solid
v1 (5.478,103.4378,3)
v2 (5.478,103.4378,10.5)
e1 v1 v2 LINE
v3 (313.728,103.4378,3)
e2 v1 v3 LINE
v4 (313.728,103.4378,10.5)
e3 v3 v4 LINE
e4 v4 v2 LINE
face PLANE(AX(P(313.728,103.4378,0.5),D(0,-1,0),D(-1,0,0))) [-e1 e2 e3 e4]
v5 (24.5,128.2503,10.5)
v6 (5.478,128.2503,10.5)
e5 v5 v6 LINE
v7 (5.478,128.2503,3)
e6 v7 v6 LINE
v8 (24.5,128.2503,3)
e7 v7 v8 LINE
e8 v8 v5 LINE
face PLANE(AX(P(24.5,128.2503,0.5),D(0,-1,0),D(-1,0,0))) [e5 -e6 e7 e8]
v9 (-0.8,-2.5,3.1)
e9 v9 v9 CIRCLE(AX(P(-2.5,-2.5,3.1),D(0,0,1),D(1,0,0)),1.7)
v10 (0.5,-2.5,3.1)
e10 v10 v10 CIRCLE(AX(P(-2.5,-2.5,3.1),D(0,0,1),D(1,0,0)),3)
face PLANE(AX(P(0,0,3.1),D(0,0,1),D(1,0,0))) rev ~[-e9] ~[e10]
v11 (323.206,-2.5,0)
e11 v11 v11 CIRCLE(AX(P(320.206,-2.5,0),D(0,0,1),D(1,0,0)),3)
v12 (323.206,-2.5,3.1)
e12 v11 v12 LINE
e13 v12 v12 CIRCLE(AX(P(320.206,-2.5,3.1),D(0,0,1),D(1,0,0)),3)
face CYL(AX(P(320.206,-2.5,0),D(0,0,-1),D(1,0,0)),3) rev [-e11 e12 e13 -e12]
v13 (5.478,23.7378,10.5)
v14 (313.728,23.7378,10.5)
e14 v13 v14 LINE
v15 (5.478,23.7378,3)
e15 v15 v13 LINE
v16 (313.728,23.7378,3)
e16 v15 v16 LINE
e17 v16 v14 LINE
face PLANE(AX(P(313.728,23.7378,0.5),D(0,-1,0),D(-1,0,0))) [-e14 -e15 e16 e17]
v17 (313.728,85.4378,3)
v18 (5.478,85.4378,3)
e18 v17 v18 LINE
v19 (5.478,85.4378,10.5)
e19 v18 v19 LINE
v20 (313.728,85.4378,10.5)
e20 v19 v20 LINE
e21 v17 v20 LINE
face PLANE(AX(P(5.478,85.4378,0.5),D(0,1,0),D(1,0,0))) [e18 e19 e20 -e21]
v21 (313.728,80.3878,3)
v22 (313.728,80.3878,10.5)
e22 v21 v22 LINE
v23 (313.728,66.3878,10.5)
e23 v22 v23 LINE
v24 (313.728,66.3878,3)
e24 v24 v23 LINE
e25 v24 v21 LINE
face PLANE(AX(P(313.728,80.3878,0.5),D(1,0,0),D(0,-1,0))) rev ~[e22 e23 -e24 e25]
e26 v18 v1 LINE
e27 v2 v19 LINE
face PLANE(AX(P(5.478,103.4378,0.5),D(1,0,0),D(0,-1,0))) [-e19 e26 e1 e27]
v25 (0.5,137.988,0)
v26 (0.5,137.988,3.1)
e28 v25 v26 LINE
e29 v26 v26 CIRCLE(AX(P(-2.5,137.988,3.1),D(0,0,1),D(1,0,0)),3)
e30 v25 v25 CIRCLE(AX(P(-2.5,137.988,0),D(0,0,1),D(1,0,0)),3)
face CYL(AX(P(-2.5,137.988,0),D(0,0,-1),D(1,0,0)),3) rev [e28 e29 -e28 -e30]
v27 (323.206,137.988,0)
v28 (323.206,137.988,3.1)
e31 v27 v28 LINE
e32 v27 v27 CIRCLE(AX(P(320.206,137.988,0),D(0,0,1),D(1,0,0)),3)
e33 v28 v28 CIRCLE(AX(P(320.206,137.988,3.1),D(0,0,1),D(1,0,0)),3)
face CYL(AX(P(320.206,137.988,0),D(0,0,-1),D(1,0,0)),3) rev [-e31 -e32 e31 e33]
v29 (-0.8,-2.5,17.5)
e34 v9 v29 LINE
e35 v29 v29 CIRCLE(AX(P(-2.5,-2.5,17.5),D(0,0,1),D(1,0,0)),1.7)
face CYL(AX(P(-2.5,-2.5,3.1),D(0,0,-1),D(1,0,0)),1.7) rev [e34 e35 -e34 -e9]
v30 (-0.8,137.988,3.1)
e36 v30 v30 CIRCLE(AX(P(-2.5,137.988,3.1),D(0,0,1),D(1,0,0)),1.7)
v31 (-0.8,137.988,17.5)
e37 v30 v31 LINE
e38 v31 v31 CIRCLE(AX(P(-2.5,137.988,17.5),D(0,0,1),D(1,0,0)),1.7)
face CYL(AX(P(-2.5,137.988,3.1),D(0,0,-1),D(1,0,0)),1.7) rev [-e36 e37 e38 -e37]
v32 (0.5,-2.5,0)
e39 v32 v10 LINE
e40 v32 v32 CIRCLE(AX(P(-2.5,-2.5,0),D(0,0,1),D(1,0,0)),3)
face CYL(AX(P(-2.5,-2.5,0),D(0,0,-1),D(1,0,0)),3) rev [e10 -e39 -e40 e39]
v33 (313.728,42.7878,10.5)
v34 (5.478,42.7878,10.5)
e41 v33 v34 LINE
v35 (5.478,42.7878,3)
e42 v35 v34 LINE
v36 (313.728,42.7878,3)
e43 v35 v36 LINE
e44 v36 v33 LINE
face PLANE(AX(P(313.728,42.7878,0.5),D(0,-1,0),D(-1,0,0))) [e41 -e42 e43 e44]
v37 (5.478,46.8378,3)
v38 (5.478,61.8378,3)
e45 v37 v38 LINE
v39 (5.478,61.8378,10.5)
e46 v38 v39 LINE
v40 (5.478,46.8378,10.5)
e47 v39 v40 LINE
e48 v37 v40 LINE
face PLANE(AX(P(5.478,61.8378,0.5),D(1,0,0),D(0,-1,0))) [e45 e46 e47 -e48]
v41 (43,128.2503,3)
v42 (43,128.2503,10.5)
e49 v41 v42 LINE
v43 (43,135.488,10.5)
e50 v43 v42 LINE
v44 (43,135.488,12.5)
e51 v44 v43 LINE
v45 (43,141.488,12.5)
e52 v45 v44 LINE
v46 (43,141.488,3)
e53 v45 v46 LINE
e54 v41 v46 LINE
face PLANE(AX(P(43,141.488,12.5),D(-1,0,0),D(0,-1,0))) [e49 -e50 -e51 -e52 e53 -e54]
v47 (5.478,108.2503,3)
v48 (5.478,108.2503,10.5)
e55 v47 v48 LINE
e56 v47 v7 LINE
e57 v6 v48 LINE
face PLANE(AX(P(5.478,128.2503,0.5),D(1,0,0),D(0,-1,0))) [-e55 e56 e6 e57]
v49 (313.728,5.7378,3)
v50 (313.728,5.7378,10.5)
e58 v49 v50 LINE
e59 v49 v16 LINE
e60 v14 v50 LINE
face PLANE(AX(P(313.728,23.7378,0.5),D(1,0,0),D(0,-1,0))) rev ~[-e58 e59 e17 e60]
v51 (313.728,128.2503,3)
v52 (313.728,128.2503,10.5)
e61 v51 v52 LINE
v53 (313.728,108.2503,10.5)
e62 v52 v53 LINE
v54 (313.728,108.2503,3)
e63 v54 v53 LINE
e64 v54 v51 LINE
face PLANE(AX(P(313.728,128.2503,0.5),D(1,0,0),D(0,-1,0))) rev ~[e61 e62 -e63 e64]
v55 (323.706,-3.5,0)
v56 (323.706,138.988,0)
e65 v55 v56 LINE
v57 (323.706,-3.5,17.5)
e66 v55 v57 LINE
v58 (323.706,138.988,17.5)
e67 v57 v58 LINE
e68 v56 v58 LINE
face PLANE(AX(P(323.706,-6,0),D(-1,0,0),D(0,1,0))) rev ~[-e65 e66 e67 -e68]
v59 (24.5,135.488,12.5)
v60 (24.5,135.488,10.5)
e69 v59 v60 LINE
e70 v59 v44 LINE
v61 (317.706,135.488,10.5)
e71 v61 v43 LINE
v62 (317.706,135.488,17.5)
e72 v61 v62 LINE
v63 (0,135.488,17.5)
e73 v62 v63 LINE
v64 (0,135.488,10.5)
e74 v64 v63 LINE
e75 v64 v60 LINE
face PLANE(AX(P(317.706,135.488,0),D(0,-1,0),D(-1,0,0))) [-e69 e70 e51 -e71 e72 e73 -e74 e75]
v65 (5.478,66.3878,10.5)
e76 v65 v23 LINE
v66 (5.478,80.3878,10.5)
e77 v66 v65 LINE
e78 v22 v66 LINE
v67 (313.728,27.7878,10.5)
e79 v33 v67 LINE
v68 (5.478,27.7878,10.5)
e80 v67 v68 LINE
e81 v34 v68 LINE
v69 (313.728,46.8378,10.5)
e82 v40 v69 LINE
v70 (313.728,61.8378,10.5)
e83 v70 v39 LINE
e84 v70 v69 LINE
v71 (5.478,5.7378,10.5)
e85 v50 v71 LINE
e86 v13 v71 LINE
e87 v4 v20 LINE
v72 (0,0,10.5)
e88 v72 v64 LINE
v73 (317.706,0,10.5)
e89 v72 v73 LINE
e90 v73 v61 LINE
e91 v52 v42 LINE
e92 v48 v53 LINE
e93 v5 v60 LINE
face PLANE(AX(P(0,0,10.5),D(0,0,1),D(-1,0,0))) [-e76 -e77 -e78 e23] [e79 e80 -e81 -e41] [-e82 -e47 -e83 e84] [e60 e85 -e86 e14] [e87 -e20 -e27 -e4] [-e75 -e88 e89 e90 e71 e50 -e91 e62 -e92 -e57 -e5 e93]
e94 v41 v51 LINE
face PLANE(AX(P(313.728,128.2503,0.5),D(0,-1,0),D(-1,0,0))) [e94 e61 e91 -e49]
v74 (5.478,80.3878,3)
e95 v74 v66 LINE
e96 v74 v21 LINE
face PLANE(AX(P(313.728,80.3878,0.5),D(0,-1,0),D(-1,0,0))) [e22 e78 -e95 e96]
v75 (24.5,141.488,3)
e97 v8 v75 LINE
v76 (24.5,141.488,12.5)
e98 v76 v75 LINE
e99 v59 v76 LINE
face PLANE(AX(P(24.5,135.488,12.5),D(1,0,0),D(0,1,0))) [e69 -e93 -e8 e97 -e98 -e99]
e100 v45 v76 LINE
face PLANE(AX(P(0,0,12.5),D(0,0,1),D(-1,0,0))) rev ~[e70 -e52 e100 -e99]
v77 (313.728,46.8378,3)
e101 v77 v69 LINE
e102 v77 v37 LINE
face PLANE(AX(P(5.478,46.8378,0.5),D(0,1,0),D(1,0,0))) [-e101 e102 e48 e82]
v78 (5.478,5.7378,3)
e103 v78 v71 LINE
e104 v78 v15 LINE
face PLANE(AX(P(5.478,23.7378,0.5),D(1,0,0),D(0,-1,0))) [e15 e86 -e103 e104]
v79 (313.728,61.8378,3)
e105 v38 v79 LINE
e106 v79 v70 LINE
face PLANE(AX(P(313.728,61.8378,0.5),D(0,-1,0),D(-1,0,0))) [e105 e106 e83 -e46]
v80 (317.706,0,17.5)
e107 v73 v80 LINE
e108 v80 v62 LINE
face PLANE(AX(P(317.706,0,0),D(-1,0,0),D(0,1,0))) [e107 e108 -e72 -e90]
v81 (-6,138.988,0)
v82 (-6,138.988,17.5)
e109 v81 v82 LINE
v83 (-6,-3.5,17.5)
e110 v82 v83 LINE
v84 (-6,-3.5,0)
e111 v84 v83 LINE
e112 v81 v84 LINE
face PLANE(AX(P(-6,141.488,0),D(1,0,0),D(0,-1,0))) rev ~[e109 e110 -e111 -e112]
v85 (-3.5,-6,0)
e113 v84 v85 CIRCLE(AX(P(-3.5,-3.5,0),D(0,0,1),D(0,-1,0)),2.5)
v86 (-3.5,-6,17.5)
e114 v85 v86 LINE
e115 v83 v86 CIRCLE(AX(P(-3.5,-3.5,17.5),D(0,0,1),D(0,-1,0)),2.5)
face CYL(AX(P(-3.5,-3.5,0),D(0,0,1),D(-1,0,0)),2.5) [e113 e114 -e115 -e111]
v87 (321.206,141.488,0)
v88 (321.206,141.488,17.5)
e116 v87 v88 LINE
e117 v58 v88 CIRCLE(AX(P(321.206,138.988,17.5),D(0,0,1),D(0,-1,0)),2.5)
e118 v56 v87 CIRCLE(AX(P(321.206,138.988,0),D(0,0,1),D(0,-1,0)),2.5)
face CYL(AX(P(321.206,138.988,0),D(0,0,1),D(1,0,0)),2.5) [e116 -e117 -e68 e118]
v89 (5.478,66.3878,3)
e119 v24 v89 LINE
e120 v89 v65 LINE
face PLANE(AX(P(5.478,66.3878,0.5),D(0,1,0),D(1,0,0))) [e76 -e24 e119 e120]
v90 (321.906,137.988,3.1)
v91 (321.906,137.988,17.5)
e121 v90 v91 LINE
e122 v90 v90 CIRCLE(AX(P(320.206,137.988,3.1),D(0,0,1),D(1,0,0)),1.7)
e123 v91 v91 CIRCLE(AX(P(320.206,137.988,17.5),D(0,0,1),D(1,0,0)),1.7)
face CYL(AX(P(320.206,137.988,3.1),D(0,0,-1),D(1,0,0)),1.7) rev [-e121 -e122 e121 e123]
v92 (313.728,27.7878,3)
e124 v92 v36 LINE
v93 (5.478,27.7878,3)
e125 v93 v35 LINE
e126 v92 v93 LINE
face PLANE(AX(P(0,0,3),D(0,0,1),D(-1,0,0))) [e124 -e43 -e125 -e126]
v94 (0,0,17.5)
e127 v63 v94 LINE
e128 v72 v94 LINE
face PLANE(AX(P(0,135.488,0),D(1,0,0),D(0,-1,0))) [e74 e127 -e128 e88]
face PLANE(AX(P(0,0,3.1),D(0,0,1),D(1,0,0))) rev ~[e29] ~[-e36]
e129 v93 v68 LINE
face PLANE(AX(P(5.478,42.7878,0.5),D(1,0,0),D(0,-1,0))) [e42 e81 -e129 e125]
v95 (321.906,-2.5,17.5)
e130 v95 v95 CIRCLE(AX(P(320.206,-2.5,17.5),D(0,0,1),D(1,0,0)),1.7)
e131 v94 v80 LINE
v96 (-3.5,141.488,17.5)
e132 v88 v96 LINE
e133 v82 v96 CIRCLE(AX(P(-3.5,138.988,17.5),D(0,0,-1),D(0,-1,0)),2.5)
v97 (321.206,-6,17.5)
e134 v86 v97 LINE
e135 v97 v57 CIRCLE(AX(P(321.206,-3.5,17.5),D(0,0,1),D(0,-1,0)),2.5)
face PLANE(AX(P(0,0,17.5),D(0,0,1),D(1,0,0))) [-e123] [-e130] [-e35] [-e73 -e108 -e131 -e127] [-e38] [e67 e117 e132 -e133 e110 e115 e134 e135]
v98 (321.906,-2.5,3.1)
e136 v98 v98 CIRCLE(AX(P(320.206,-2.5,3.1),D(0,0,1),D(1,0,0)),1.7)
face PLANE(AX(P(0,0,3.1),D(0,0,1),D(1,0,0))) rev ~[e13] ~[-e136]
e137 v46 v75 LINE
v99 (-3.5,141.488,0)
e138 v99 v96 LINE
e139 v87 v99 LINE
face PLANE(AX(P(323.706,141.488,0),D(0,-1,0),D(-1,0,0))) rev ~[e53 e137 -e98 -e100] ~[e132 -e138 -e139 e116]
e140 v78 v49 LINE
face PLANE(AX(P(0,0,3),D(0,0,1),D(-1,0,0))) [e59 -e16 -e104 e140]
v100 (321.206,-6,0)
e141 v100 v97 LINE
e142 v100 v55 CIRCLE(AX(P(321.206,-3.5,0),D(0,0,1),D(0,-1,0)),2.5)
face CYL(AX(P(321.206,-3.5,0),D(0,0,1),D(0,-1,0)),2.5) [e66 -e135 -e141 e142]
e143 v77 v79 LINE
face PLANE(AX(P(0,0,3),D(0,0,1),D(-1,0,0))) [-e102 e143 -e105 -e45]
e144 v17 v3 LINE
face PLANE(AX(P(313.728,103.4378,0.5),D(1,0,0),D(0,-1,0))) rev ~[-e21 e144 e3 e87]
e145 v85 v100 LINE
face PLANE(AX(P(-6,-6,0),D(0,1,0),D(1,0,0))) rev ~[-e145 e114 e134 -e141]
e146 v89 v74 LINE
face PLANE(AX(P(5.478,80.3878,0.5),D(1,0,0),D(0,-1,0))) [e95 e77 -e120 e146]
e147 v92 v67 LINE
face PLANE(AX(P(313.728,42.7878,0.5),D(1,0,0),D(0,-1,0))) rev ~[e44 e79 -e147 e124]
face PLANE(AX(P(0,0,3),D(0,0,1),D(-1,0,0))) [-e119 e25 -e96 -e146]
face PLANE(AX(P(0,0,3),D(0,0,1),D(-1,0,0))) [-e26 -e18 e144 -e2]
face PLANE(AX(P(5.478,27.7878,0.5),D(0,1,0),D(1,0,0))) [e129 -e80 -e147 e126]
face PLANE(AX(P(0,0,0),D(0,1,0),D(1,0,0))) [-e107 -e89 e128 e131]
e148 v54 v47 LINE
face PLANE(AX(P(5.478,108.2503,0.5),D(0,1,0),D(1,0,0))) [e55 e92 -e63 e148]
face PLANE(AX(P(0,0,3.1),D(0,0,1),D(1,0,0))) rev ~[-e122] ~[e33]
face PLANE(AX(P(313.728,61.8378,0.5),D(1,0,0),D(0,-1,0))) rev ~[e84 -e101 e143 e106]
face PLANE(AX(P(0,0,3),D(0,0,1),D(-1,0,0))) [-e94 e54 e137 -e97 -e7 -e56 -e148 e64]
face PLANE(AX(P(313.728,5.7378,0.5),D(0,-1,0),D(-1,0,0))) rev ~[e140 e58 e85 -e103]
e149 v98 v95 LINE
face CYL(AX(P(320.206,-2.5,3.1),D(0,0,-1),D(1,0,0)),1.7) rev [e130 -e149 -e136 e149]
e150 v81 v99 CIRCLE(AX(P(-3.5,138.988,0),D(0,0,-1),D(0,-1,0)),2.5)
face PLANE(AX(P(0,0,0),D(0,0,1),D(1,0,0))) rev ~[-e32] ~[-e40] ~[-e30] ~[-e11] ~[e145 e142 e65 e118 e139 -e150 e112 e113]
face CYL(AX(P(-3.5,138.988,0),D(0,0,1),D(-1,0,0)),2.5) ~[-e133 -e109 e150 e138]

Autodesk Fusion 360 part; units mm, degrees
sketch "Sketch1" plane through (0, 0, 0) normal (0, 0, 1) x (1, 0, 0) in component "MechKeyboard"
  line L0 (0, 0) -> (317.706, 0)
  line L1 (317.706, 0) -> (317.706, 135.488)
  line L2 (317.706, 135.488) -> (0, 135.488)
  line L3 (0, 135.488) -> (0, 0)
  line L4 (-6, -6) -> (323.706, -6)
  line L5 (323.706, -6) -> (323.706, 141.488)
  line L6 (323.706, 141.488) -> (-6, 141.488)
  line L7 (-6, 141.488) -> (-6, -6)
  circle A0 centre (320.206, 137.988) radius 1.7
  circle A1 centre (320.206, 137.988) radius 3
  line L8 (158.853, 135.488) -> (158.853, 141.488) construction
  line L9 (317.706, 67.744) -> (323.706, 67.744) construction
  circle A2 centre (320.206, -2.5) radius 3
  circle A3 centre (320.206, -2.5) radius 1.7
  circle A4 centre (-2.5, 137.988) radius 1.7
  circle A5 centre (-2.5, 137.988) radius 3
  circle A6 centre (-2.5, -2.5) radius 1.7
  circle A7 centre (-2.5, -2.5) radius 3
  dimension "d1" = 317.706
  dimension "d2" = 135.488
  dimension "d3" = 6
  dimension "d4" = 3.4
  dimension "d5" = 3.5
  dimension "d6" = 3.5
  dimension "d7" = 6
extrude "Extrude1" add sketch "Sketch1" along normal blind 14.4 from surface at 3.1 contours A1 | A2 | A5 | A7 makes body 1 at (0.4851, -2.7987, 7.9) makes body 2 at (318.8374, 0.1696, 12.7) makes body 3 at (-5.3191, 139.0141, 12.7) makes body 4 at (321.4399, 140.7225, 12.7) in component "MechKeyboard"
extrude "Extrude2" add sketch "Sketch1" along normal blind 17.5 contours L4 L5 L6 L7 bodies 1 2 3 4 in component "MechKeyboard"
extrude "Extrude3" add sketch "Sketch1" along normal blind 3 contours L0 L1 L2 L3 bodies 1 in component "MechKeyboard"
sketch "Sketch1 (2)" plane through (0, 0, 17.5) normal (0, 0, 1) x (-1, 0, 0)
  line L0 (0, 0) -> (0, -135.488)
  line L1 (0, -135.488) -> (-317.706, -135.488)
  line L2 (-317.706, -135.488) -> (-317.706, 0)
  line L3 (-317.706, 0) -> (0, 0)
  line L4 (6, -141.488) -> (6, 6)
  line L5 (6, 6) -> (-323.706, 6)
  line L6 (-323.706, 6) -> (-323.706, -141.488)
  line L7 (-323.706, -141.488) -> (6, -141.488)
  line L8 (-24.5, -141.488) -> (-43, -141.488)
  line L9 (-43, -141.488) -> (-43, -135.488)
  line L10 (-43, -135.488) -> (-24.5, -135.488)
  line L11 (-24.5, -135.488) -> (-24.5, -141.488)
  circle A0 centre (2.5, 2.5) radius 1.7
  circle A1 centre (-320.206, -137.988) radius 1.7
  circle A2 centre (-320.206, 2.5) radius 1.7
  circle A3 centre (2.5, -137.988) radius 1.7
  dimension "d15" = 18.5
  dimension "d17" = 24.5
extrude "Extrude4" cut sketch "Sketch1 (2)" against normal up to surface (9.5 mm away) from surface at -5 contours L1 L7 L8 L9 L10 L11 bodies 1 in component "MechKeyboard"
fillet "Fillet1" radius 2.5 4 edges at (-6, 141.488, 8.75) (-6, -6, 8.75) (323.706, -6, 8.75) (323.706, 141.488, 8.75) on bodies 1 in component "MechKeyboard"
sketch "Sketch2" plane through (0, 0, 3) normal (0, 0, 1) x (-1, 0, 0)
  curve L0
  curve A0
  curve A1
  curve A2
  curve A3
  curve A4
  curve A5
  curve A6
  curve A7
  curve A8
  curve A9
  curve A10
  curve A11
  curve A12
  curve A13
  curve A14
  curve A15
  curve A16
  curve A17
  curve A18
  curve A19
  curve A20
  curve A21
  curve A22
  curve A23
  curve A24
  curve A25
  curve A26
  curve A27
  curve A28
  curve A29
  curve A30
  curve A31
  curve A32
  curve A33
  curve A34
  curve A35
  curve A36
  curve A37
  curve A38
  curve A39
  curve A40
  curve A41
  curve A42
  curve A43
  curve A44
  curve A45
  curve A46
  curve A47
  curve A48
  curve A49
  curve A50
  curve A51
  curve A52
  curve A53
  curve A54
  curve A55
  curve A56
  curve A57
  curve A58
  curve A59
  curve A60
  curve A61
  curve A62
  curve A63
  curve A64
  curve A65
  curve A66
  curve A67
  curve A68
  curve A69
  curve A70
  curve A71
  curve A72
  curve A73
  curve A74
  curve A75
  curve L1
  curve L2
  curve A76
  curve A77
  curve A78
  curve L3
  curve A79
  curve L4
  curve A80
  curve A81
  curve A82
  curve L5
  curve L6
  curve L7
  curve A83
  curve L8
  curve A84
  curve A85
  curve L9
  curve L10
  curve L11
  curve L12
  curve L13
  curve A86
  curve L14
  curve L15
  curve L16
  curve L17
  curve L18
  curve L19
  curve A87
  curve A88
  curve L20
  curve L21
  curve L22
  curve A89
  curve A90
  curve L23
  curve L24
  curve L25
  curve L26
  curve L27
  curve L28
  curve L29
  curve L30
  curve L31
  curve L32
  curve L33
  curve L34
  curve L35
  curve L36
  curve L37
  curve L38
  curve L39
  curve L40
  curve L41
  curve L42
  curve L43
  curve L44
  curve L45
  curve L46
  curve L47
  curve L48
  curve L49
  curve L50
  curve L51
  curve L52
  curve L53
  curve L54
  curve L55
  curve L56
  curve L57
  curve L58
  curve A91
  curve A92
  curve A93
  curve L59
  curve A94
  curve A95
  curve A96
  curve A97
  curve A98
  curve A99
  curve A100
  curve A101
  curve A102
  curve A103
  curve A104
  curve A105
  curve A106
  curve A107
  curve A108
  curve A109
  curve A110
  curve A111
  curve A112
  curve A113
  curve L60
  curve A114
  curve A115
  curve A116
  curve A117
  curve A118
  curve A119
  curve A120
  curve A121
  curve A122
  curve A123
  curve A124
  curve A125
  curve A126
  curve A127
  curve A128
  curve A129
  curve A130
  curve A131
  curve A132
  curve A133
  curve L61
  curve A134
  curve A135
  curve A136
  curve A137
  curve A138
  curve A139
  curve A140
  curve A141
  curve A142
  curve A143
  curve A144
  curve A145
  curve A146
  curve A147
  curve L62
  curve A148
  curve A149
  curve A150
  curve A151
  curve A152
  curve L63
  curve L64
  curve L65
  curve A153
  curve A154
  curve A155
  curve L66
  curve L67
  curve L68
  curve L69 construction
  curve L70
  curve A156
  curve L71
  curve L72
  curve L73
  curve A157
  curve L74
  curve L75
  curve L76
  curve L77
  curve L78
  curve L79
  curve L80
  curve L81
  curve L82
  curve L83
  curve L84
  curve L85
  curve L86
  curve L87
  curve L88
  curve L89
  curve L90
  curve A158
  curve A159
  curve L91
  curve A160
  curve A161
  curve A162
  curve L92
  curve A163
  curve A164
  curve A165
  curve A166
  curve A167
  curve L93
  curve A168
  curve L94
  curve A169
  curve A170
  curve L95
  curve A171
  curve L96
  curve L97
  curve A172
  curve L98
  curve L99
  curve L100
  curve L101
  curve L102
  curve L103
  curve L104
  curve L105
  curve L106
  curve L107
  curve L108
  curve L109
  curve L110
  curve L111
  curve L112
  curve L113
  curve L114
  curve L115
  curve L116
  curve L117
  curve L118
  curve L119
  curve L120
  curve L121
  curve L122
  curve L123
  curve L124
  curve L125
  curve L126
  curve L127
  curve L128
  curve L129
  curve L130
  curve L131
  curve L132
  curve L133
  curve L134
  curve L135
  curve L136
  curve L137
  curve L138
  curve L139
  curve L140
  curve L141
  curve L142
  curve L143
  curve L144
  curve L145
  curve A173
  curve A174
  curve A175
  curve L146
  curve L147
  curve L148
  curve A176
  curve A177
  curve L149
  curve A178
  curve L150
  curve A179
  curve A180
  curve A181
  curve L151
  curve A182
  curve L152
  curve L153
  curve L154
  curve A183
  curve A184
  curve A185
  curve L155
  curve L156
  curve A186
  curve A187
  curve L157
  curve A188
  curve L158
  curve L159
  curve A189
  curve A190
  curve L160
  curve A191
  curve A192
  curve L161
  curve A193
  curve L162
  curve L163
  curve A194
  curve A195
  curve A196
  curve A197
  curve A198
  curve L164
  curve A199
  curve L165
  curve L166
  curve A200
  curve L167
  curve A201
  curve A202
  curve L168
  curve L169
  curve A203
  curve A204
  curve L170
  curve A205
  curve A206
  curve A207
  curve L171
  curve L172
  curve L173
  curve L174
  curve L175
  curve L176
  curve A208
  curve L177
  curve A209
  curve L178
  curve L179
  curve L180
  curve L181
  curve L182
  curve L183
  curve L184
  curve L185
  curve L186
  curve L187
  curve L188
  curve A210
  curve L189
  curve L190
  curve L191 construction
  curve L192
  curve A211
  curve A212
  curve L193
  curve L194
  curve L195
  curve L196
  curve L197
  curve L198
  curve A213
  curve A214
  curve L199
  curve L200
  curve A215
  curve A216
  curve A217
  curve A218
  curve L201
  curve L202
  curve L203
  curve L204
  curve A219
  curve L205
  curve L206 construction
  curve A220
  curve L207 construction
  curve A221
  curve A222
  curve A223
  curve L208
  curve A224
  curve A225
  curve A226
  curve L209
  curve L210
  curve A227
  curve A228
  curve A229
  curve A230
  curve A231
  curve L211
  curve A232
  curve A233
  curve A234
  curve A235
  curve L212
  curve L213
  curve L214
  curve L215
  curve L216
  curve A236
  curve A237
  curve A238
  curve L217
  curve L218 construction
  curve L219
  curve A239
  curve L220
  curve L221
  curve A240
  curve A241
  curve L222
  curve A242
  curve A243
  curve A244
  curve L223
  curve A245
  curve L224
  curve L225
  curve L226
  curve A246
  curve L227
  curve L228
  curve L229
  curve A247
  curve L230
  curve A248
  curve L231
  curve L232
  curve A249
  curve L233
  curve L234
  curve L235
  curve L236
  curve L237
  curve L238
  curve L239
  curve A250
  curve A251
  curve L240
  curve A252
  curve L241
  curve A253
  curve L242
  curve A254
  curve L243
  curve L244
  curve L245
  curve A255
  curve A256
  curve L246
  curve L247
  curve L248
  curve L249
  curve A257
  curve A258
  curve L250
  curve L251
  curve L252
  curve A259
  curve A260
  curve A261
  curve L253
  curve A262
  curve L254
  curve A263
  curve L255
  curve A264
  curve L256
  curve A265
  curve L257
  curve A266
  curve L258
  curve A267
  curve A268
  curve L259
  curve A269
  curve A270
  curve L260
  curve L261
  curve A271
  curve L262
  curve A272
  curve A273
  curve L263
  curve L264
  curve A274
  curve L265
  curve L266
  curve L267
  curve L268
  curve A275
  curve L269
  curve A276
  curve L270
  curve A277
  curve A278
  curve A279
  curve A280
  curve L271
  curve A281
  curve L272
  curve L273
  curve L274
  curve L275
  curve A282
  curve L276
  curve L277
  curve L278
  curve L279
  curve L280
  curve L281 construction
  curve A283
  curve L282
  curve A284
  curve L283
  curve L284
  curve A285
  curve L285
  curve L286
  curve A286
  curve L287
  curve A287
  curve A288
  curve L288
  curve L289
  curve A289
  curve A290
  curve A291
  curve A292
  curve L290
  curve L291
  curve L292
  curve L293
  curve A293
  curve L294
  curve L295
  curve A294
  curve L296
  curve L297
  curve L298
  curve A295
  curve L299
  curve L300
  curve A296
  curve L301
  curve L302
  curve L303
  curve L304
  curve L305
  curve A297
  curve A298
  curve L306
  curve A299
  curve A300
  curve A301
  curve A302
  curve L307
  curve A303
  curve L308
  curve A304
  curve A305
  curve L309
  curve L310
  curve L311
  curve A306
  curve A307
  curve L312
  curve L313
  curve A308
  curve L314
  curve A309
  curve A310
  curve L315
  curve L316
  curve A311
  curve L317
  curve L318
  curve A312
  curve L319
  curve L320
  curve A313
  curve L321
  curve L322
  curve A314
  curve A315
  curve L323
  curve A316
  curve A317
  curve L324
  curve L325
  curve A318
  curve L326
  curve L327
  curve L328
  curve L329
  curve A319
  curve A320
  curve A321
  curve L330
  curve A322
  curve L331
  curve L332
  curve L333
  curve L334
  curve A323
  curve A324
  curve A325
  curve A326
  curve L335
  curve A327
  curve L336
  curve A328
  curve A329
  curve L337
  curve L338
  curve L339
  curve L340
  curve L341
  curve A330
  curve A331
  curve L342
  curve L343
  curve A332
  curve L344
  curve A333
  curve A334
  curve L345
  curve L346
  curve L347
  curve A335
  curve A336
  curve L348
  curve A337
  curve A338
  curve L349
  curve L350
  curve L351
  curve A339
  curve A340
  curve L352
  curve L353
  curve A341
  curve L354
  curve A342
  curve A343
  curve A344
  curve A345
  curve A346
  curve A347
  curve A348
  curve L355
  curve A349
  curve L356
  curve L357
  curve A350
  curve L358
  curve L359
  curve L360
  curve L361
  curve A351
  curve A352
  curve L362
  curve A353
  curve A354
  curve L363
  curve A355
  curve A356
  curve A357
  curve A358
  curve L364
  curve L365
  curve A359
  dimension "d35" = 329.706
  dimension "d36" = 147.488
  dimension "d37" = 6
  dimension "d38" = 3.5
  dimension "d39" = 3.5
sketch "Sketch4" plane through (0, 0, 13) normal (0, 0, 1) x (-1, 0, 0)
  line L0 (0, -135.488) -> (-317.706, -135.488)
  line L1 (-317.706, -135.488) -> (-317.706, -128.2503)
  line L2 (-317.706, -128.2503) -> (0, -128.2503)
  line L3 (0, -128.2503) -> (0, -135.488)
  line L4 (-9.478, -124.7503) -> (-22.478, -124.7503)
  line L5 (0, -108.2503) -> (-317.706, -108.2503)
  line L6 (-317.706, -108.2503) -> (-317.706, -103.4378)
  line L7 (-317.706, -103.4378) -> (0, -103.4378)
  line L8 (0, -103.4378) -> (0, -108.2503)
  line L9 (0, 0) -> (0, -135.488)
  line L10 (-317.706, -135.488) -> (-317.706, 0)
  line L11 (-9.478, -110.7503) -> (-22.478, -110.7503)
  line L12 (-9.478, -100.9378) -> (-22.478, -100.9378)
  line L13 (0, -135.488) -> (-5.478, -135.488)
  line L14 (-5.478, -135.488) -> (-5.478, 0)
  line L15 (-5.478, 0) -> (0, 0)
  line L16 (0, 0) -> (0, -135.488)
  line L17 (-317.706, 0) -> (0, 0)
  line L18 (-8.978, -124.2503) -> (-8.978, -111.2503)
  line L19 (-317.706, -135.488) -> (-313.728, -135.488)
  line L20 (-313.728, -135.488) -> (-313.728, 0)
  line L21 (-313.728, 0) -> (-317.706, 0)
  line L22 (-317.706, 0) -> (-317.706, -135.488)
  line L23 (-308.728, -24.2378) -> (-308.728, -11.2378)
  line L24 (0, 0) -> (-317.706, 0)
  line L25 (-317.706, 0) -> (-317.706, -5.7378)
  line L26 (-317.706, -5.7378) -> (0, -5.7378)
  line L27 (0, -5.7378) -> (0, 0)
  line L28 (-11.8593, -10.7378) -> (-24.8593, -10.7378)
  line L29 (0, -85.4378) -> (-317.706, -85.4378)
  line L30 (-317.706, -85.4378) -> (-317.706, -80.3878)
  line L31 (-317.706, -80.3878) -> (0, -80.3878)
  line L32 (0, -80.3878) -> (0, -85.4378)
  line L33 (-14.2405, -81.8878) -> (-27.2405, -81.8878)
  line L34 (-9.478, -86.9378) -> (-22.478, -86.9378)
  line L35 (0, -66.3878) -> (-317.706, -66.3878)
  line L36 (-317.706, -66.3878) -> (-317.706, -61.8378)
  line L37 (-317.706, -61.8378) -> (0, -61.8378)
  line L38 (0, -61.8378) -> (0, -66.3878)
  line L39 (-14.2405, -67.8878) -> (-27.2405, -67.8878)
  line L40 (-16.6218, -62.8378) -> (-29.6218, -62.8378)
  line L41 (0, -46.8378) -> (-317.706, -46.8378)
  line L42 (-317.706, -46.8378) -> (-317.706, -42.7878)
  line L43 (-317.706, -42.7878) -> (0, -42.7878)
  line L44 (0, -42.7878) -> (0, -46.8378)
  line L45 (-16.6218, -48.8378) -> (-29.6218, -48.8378)
  line L46 (-21.3843, -43.7878) -> (-34.3843, -43.7878)
  line L47 (0, -27.7878) -> (-317.706, -27.7878)
  line L48 (-317.706, -27.7878) -> (-317.706, -23.7378)
  line L49 (-317.706, -23.7378) -> (0, -23.7378)
  line L50 (0, -23.7378) -> (0, -27.7878)
  line L51 (-12.9463, -27.7878) -> (-18.9463, -27.7878)
  line L52 (-11.8593, -24.7378) -> (-24.8593, -24.7378)
  line L53 (-21.3843, -29.7878) -> (-34.3843, -29.7878)
  line L54 (-24.5, -135.488) -> (-43, -135.488)
  line L55 (-43, -135.488) -> (-43, -128.2503)
  line L56 (-43, -128.2503) -> (-24.5, -128.2503)
  line L57 (-24.5, -128.2503) -> (-24.5, -135.488)
  point P0 (-24.5, -135.488)
  point P1 (-43, -135.488)
  point P2 (-317.706, -135.488)
  point P3 (0, -135.488)
  dimension "d40" = 3.5
  dimension "d41" = 2.5
  dimension "d42" = 2.5
  dimension "d43" = 3.5
  dimension "d44" = 5
  dimension "d45" = 5
  dimension "d46" = 1.5
  dimension "d47" = 1.5
  dimension "d48" = 1.5
  dimension "d49" = 1
  dimension "d50" = 2
  dimension "d51" = 1
  dimension "d53" = 1
  dimension "d54" = 2
extrude "Extrude5" add sketch "Sketch4" along normal blind 10 from surface at -12.5 contours L0 L2 L3 L9 L13 L14 L16 | L0 L2 L14 L57 | L2 L5 L9 L14 L16 | L5 L7 L8 L9 L14 L16 | L0 L2 L20 L55 | L5 L7 L14 L20 | L7 L9 L14 L16 L29 | L0 L1 L2 L10 L19 L20 L22 | L2 L5 L10 L20 L22 | L5 L6 L7 L10 L20 L22 | L9 L14 L16 L29 L31 L32 | L7 L10 L20 L22 L29 | L14 L20 L29 L31 | L9 L14 L16 L31 L35 | L10 L20 L22 L29 L30 L31 | L9 L14 L16 L35 L37 L38 | L10 L20 L22 L31 L35 | L14 L20 L35 L37 | L9 L14 L16 L37 L41 | L10 L20 L22 L35 L36 L37 | L9 L14 L16 L41 L43 L44 | L10 L20 L22 L37 L41 | L14 L20 L41 L43 | L9 L14 L16 L43 L47 | L10 L20 L22 L41 L42 L43 | L9 L14 L16 L47 L49 L50 | L10 L20 L22 L43 L47 | L14 L20 L47 L49 L51 | L9 L14 L16 L26 L49 | L10 L20 L22 L47 L48 L49 | L9 L14 L15 L16 L17 L24 L26 L27 | L10 L20 L22 L26 L49 | L14 L17 L20 L24 L26 | L10 L17 L20 L21 L22 L24 L25 L26 bodies 1 in component "MechKeyboard"
component "MechKeyboard" placed x (1, 0, 0) y (0, 1, 0) z (0, 0, 1) at (0, 0, 0)
equation "d9 = 17.5 mm - 3.1 mm"
